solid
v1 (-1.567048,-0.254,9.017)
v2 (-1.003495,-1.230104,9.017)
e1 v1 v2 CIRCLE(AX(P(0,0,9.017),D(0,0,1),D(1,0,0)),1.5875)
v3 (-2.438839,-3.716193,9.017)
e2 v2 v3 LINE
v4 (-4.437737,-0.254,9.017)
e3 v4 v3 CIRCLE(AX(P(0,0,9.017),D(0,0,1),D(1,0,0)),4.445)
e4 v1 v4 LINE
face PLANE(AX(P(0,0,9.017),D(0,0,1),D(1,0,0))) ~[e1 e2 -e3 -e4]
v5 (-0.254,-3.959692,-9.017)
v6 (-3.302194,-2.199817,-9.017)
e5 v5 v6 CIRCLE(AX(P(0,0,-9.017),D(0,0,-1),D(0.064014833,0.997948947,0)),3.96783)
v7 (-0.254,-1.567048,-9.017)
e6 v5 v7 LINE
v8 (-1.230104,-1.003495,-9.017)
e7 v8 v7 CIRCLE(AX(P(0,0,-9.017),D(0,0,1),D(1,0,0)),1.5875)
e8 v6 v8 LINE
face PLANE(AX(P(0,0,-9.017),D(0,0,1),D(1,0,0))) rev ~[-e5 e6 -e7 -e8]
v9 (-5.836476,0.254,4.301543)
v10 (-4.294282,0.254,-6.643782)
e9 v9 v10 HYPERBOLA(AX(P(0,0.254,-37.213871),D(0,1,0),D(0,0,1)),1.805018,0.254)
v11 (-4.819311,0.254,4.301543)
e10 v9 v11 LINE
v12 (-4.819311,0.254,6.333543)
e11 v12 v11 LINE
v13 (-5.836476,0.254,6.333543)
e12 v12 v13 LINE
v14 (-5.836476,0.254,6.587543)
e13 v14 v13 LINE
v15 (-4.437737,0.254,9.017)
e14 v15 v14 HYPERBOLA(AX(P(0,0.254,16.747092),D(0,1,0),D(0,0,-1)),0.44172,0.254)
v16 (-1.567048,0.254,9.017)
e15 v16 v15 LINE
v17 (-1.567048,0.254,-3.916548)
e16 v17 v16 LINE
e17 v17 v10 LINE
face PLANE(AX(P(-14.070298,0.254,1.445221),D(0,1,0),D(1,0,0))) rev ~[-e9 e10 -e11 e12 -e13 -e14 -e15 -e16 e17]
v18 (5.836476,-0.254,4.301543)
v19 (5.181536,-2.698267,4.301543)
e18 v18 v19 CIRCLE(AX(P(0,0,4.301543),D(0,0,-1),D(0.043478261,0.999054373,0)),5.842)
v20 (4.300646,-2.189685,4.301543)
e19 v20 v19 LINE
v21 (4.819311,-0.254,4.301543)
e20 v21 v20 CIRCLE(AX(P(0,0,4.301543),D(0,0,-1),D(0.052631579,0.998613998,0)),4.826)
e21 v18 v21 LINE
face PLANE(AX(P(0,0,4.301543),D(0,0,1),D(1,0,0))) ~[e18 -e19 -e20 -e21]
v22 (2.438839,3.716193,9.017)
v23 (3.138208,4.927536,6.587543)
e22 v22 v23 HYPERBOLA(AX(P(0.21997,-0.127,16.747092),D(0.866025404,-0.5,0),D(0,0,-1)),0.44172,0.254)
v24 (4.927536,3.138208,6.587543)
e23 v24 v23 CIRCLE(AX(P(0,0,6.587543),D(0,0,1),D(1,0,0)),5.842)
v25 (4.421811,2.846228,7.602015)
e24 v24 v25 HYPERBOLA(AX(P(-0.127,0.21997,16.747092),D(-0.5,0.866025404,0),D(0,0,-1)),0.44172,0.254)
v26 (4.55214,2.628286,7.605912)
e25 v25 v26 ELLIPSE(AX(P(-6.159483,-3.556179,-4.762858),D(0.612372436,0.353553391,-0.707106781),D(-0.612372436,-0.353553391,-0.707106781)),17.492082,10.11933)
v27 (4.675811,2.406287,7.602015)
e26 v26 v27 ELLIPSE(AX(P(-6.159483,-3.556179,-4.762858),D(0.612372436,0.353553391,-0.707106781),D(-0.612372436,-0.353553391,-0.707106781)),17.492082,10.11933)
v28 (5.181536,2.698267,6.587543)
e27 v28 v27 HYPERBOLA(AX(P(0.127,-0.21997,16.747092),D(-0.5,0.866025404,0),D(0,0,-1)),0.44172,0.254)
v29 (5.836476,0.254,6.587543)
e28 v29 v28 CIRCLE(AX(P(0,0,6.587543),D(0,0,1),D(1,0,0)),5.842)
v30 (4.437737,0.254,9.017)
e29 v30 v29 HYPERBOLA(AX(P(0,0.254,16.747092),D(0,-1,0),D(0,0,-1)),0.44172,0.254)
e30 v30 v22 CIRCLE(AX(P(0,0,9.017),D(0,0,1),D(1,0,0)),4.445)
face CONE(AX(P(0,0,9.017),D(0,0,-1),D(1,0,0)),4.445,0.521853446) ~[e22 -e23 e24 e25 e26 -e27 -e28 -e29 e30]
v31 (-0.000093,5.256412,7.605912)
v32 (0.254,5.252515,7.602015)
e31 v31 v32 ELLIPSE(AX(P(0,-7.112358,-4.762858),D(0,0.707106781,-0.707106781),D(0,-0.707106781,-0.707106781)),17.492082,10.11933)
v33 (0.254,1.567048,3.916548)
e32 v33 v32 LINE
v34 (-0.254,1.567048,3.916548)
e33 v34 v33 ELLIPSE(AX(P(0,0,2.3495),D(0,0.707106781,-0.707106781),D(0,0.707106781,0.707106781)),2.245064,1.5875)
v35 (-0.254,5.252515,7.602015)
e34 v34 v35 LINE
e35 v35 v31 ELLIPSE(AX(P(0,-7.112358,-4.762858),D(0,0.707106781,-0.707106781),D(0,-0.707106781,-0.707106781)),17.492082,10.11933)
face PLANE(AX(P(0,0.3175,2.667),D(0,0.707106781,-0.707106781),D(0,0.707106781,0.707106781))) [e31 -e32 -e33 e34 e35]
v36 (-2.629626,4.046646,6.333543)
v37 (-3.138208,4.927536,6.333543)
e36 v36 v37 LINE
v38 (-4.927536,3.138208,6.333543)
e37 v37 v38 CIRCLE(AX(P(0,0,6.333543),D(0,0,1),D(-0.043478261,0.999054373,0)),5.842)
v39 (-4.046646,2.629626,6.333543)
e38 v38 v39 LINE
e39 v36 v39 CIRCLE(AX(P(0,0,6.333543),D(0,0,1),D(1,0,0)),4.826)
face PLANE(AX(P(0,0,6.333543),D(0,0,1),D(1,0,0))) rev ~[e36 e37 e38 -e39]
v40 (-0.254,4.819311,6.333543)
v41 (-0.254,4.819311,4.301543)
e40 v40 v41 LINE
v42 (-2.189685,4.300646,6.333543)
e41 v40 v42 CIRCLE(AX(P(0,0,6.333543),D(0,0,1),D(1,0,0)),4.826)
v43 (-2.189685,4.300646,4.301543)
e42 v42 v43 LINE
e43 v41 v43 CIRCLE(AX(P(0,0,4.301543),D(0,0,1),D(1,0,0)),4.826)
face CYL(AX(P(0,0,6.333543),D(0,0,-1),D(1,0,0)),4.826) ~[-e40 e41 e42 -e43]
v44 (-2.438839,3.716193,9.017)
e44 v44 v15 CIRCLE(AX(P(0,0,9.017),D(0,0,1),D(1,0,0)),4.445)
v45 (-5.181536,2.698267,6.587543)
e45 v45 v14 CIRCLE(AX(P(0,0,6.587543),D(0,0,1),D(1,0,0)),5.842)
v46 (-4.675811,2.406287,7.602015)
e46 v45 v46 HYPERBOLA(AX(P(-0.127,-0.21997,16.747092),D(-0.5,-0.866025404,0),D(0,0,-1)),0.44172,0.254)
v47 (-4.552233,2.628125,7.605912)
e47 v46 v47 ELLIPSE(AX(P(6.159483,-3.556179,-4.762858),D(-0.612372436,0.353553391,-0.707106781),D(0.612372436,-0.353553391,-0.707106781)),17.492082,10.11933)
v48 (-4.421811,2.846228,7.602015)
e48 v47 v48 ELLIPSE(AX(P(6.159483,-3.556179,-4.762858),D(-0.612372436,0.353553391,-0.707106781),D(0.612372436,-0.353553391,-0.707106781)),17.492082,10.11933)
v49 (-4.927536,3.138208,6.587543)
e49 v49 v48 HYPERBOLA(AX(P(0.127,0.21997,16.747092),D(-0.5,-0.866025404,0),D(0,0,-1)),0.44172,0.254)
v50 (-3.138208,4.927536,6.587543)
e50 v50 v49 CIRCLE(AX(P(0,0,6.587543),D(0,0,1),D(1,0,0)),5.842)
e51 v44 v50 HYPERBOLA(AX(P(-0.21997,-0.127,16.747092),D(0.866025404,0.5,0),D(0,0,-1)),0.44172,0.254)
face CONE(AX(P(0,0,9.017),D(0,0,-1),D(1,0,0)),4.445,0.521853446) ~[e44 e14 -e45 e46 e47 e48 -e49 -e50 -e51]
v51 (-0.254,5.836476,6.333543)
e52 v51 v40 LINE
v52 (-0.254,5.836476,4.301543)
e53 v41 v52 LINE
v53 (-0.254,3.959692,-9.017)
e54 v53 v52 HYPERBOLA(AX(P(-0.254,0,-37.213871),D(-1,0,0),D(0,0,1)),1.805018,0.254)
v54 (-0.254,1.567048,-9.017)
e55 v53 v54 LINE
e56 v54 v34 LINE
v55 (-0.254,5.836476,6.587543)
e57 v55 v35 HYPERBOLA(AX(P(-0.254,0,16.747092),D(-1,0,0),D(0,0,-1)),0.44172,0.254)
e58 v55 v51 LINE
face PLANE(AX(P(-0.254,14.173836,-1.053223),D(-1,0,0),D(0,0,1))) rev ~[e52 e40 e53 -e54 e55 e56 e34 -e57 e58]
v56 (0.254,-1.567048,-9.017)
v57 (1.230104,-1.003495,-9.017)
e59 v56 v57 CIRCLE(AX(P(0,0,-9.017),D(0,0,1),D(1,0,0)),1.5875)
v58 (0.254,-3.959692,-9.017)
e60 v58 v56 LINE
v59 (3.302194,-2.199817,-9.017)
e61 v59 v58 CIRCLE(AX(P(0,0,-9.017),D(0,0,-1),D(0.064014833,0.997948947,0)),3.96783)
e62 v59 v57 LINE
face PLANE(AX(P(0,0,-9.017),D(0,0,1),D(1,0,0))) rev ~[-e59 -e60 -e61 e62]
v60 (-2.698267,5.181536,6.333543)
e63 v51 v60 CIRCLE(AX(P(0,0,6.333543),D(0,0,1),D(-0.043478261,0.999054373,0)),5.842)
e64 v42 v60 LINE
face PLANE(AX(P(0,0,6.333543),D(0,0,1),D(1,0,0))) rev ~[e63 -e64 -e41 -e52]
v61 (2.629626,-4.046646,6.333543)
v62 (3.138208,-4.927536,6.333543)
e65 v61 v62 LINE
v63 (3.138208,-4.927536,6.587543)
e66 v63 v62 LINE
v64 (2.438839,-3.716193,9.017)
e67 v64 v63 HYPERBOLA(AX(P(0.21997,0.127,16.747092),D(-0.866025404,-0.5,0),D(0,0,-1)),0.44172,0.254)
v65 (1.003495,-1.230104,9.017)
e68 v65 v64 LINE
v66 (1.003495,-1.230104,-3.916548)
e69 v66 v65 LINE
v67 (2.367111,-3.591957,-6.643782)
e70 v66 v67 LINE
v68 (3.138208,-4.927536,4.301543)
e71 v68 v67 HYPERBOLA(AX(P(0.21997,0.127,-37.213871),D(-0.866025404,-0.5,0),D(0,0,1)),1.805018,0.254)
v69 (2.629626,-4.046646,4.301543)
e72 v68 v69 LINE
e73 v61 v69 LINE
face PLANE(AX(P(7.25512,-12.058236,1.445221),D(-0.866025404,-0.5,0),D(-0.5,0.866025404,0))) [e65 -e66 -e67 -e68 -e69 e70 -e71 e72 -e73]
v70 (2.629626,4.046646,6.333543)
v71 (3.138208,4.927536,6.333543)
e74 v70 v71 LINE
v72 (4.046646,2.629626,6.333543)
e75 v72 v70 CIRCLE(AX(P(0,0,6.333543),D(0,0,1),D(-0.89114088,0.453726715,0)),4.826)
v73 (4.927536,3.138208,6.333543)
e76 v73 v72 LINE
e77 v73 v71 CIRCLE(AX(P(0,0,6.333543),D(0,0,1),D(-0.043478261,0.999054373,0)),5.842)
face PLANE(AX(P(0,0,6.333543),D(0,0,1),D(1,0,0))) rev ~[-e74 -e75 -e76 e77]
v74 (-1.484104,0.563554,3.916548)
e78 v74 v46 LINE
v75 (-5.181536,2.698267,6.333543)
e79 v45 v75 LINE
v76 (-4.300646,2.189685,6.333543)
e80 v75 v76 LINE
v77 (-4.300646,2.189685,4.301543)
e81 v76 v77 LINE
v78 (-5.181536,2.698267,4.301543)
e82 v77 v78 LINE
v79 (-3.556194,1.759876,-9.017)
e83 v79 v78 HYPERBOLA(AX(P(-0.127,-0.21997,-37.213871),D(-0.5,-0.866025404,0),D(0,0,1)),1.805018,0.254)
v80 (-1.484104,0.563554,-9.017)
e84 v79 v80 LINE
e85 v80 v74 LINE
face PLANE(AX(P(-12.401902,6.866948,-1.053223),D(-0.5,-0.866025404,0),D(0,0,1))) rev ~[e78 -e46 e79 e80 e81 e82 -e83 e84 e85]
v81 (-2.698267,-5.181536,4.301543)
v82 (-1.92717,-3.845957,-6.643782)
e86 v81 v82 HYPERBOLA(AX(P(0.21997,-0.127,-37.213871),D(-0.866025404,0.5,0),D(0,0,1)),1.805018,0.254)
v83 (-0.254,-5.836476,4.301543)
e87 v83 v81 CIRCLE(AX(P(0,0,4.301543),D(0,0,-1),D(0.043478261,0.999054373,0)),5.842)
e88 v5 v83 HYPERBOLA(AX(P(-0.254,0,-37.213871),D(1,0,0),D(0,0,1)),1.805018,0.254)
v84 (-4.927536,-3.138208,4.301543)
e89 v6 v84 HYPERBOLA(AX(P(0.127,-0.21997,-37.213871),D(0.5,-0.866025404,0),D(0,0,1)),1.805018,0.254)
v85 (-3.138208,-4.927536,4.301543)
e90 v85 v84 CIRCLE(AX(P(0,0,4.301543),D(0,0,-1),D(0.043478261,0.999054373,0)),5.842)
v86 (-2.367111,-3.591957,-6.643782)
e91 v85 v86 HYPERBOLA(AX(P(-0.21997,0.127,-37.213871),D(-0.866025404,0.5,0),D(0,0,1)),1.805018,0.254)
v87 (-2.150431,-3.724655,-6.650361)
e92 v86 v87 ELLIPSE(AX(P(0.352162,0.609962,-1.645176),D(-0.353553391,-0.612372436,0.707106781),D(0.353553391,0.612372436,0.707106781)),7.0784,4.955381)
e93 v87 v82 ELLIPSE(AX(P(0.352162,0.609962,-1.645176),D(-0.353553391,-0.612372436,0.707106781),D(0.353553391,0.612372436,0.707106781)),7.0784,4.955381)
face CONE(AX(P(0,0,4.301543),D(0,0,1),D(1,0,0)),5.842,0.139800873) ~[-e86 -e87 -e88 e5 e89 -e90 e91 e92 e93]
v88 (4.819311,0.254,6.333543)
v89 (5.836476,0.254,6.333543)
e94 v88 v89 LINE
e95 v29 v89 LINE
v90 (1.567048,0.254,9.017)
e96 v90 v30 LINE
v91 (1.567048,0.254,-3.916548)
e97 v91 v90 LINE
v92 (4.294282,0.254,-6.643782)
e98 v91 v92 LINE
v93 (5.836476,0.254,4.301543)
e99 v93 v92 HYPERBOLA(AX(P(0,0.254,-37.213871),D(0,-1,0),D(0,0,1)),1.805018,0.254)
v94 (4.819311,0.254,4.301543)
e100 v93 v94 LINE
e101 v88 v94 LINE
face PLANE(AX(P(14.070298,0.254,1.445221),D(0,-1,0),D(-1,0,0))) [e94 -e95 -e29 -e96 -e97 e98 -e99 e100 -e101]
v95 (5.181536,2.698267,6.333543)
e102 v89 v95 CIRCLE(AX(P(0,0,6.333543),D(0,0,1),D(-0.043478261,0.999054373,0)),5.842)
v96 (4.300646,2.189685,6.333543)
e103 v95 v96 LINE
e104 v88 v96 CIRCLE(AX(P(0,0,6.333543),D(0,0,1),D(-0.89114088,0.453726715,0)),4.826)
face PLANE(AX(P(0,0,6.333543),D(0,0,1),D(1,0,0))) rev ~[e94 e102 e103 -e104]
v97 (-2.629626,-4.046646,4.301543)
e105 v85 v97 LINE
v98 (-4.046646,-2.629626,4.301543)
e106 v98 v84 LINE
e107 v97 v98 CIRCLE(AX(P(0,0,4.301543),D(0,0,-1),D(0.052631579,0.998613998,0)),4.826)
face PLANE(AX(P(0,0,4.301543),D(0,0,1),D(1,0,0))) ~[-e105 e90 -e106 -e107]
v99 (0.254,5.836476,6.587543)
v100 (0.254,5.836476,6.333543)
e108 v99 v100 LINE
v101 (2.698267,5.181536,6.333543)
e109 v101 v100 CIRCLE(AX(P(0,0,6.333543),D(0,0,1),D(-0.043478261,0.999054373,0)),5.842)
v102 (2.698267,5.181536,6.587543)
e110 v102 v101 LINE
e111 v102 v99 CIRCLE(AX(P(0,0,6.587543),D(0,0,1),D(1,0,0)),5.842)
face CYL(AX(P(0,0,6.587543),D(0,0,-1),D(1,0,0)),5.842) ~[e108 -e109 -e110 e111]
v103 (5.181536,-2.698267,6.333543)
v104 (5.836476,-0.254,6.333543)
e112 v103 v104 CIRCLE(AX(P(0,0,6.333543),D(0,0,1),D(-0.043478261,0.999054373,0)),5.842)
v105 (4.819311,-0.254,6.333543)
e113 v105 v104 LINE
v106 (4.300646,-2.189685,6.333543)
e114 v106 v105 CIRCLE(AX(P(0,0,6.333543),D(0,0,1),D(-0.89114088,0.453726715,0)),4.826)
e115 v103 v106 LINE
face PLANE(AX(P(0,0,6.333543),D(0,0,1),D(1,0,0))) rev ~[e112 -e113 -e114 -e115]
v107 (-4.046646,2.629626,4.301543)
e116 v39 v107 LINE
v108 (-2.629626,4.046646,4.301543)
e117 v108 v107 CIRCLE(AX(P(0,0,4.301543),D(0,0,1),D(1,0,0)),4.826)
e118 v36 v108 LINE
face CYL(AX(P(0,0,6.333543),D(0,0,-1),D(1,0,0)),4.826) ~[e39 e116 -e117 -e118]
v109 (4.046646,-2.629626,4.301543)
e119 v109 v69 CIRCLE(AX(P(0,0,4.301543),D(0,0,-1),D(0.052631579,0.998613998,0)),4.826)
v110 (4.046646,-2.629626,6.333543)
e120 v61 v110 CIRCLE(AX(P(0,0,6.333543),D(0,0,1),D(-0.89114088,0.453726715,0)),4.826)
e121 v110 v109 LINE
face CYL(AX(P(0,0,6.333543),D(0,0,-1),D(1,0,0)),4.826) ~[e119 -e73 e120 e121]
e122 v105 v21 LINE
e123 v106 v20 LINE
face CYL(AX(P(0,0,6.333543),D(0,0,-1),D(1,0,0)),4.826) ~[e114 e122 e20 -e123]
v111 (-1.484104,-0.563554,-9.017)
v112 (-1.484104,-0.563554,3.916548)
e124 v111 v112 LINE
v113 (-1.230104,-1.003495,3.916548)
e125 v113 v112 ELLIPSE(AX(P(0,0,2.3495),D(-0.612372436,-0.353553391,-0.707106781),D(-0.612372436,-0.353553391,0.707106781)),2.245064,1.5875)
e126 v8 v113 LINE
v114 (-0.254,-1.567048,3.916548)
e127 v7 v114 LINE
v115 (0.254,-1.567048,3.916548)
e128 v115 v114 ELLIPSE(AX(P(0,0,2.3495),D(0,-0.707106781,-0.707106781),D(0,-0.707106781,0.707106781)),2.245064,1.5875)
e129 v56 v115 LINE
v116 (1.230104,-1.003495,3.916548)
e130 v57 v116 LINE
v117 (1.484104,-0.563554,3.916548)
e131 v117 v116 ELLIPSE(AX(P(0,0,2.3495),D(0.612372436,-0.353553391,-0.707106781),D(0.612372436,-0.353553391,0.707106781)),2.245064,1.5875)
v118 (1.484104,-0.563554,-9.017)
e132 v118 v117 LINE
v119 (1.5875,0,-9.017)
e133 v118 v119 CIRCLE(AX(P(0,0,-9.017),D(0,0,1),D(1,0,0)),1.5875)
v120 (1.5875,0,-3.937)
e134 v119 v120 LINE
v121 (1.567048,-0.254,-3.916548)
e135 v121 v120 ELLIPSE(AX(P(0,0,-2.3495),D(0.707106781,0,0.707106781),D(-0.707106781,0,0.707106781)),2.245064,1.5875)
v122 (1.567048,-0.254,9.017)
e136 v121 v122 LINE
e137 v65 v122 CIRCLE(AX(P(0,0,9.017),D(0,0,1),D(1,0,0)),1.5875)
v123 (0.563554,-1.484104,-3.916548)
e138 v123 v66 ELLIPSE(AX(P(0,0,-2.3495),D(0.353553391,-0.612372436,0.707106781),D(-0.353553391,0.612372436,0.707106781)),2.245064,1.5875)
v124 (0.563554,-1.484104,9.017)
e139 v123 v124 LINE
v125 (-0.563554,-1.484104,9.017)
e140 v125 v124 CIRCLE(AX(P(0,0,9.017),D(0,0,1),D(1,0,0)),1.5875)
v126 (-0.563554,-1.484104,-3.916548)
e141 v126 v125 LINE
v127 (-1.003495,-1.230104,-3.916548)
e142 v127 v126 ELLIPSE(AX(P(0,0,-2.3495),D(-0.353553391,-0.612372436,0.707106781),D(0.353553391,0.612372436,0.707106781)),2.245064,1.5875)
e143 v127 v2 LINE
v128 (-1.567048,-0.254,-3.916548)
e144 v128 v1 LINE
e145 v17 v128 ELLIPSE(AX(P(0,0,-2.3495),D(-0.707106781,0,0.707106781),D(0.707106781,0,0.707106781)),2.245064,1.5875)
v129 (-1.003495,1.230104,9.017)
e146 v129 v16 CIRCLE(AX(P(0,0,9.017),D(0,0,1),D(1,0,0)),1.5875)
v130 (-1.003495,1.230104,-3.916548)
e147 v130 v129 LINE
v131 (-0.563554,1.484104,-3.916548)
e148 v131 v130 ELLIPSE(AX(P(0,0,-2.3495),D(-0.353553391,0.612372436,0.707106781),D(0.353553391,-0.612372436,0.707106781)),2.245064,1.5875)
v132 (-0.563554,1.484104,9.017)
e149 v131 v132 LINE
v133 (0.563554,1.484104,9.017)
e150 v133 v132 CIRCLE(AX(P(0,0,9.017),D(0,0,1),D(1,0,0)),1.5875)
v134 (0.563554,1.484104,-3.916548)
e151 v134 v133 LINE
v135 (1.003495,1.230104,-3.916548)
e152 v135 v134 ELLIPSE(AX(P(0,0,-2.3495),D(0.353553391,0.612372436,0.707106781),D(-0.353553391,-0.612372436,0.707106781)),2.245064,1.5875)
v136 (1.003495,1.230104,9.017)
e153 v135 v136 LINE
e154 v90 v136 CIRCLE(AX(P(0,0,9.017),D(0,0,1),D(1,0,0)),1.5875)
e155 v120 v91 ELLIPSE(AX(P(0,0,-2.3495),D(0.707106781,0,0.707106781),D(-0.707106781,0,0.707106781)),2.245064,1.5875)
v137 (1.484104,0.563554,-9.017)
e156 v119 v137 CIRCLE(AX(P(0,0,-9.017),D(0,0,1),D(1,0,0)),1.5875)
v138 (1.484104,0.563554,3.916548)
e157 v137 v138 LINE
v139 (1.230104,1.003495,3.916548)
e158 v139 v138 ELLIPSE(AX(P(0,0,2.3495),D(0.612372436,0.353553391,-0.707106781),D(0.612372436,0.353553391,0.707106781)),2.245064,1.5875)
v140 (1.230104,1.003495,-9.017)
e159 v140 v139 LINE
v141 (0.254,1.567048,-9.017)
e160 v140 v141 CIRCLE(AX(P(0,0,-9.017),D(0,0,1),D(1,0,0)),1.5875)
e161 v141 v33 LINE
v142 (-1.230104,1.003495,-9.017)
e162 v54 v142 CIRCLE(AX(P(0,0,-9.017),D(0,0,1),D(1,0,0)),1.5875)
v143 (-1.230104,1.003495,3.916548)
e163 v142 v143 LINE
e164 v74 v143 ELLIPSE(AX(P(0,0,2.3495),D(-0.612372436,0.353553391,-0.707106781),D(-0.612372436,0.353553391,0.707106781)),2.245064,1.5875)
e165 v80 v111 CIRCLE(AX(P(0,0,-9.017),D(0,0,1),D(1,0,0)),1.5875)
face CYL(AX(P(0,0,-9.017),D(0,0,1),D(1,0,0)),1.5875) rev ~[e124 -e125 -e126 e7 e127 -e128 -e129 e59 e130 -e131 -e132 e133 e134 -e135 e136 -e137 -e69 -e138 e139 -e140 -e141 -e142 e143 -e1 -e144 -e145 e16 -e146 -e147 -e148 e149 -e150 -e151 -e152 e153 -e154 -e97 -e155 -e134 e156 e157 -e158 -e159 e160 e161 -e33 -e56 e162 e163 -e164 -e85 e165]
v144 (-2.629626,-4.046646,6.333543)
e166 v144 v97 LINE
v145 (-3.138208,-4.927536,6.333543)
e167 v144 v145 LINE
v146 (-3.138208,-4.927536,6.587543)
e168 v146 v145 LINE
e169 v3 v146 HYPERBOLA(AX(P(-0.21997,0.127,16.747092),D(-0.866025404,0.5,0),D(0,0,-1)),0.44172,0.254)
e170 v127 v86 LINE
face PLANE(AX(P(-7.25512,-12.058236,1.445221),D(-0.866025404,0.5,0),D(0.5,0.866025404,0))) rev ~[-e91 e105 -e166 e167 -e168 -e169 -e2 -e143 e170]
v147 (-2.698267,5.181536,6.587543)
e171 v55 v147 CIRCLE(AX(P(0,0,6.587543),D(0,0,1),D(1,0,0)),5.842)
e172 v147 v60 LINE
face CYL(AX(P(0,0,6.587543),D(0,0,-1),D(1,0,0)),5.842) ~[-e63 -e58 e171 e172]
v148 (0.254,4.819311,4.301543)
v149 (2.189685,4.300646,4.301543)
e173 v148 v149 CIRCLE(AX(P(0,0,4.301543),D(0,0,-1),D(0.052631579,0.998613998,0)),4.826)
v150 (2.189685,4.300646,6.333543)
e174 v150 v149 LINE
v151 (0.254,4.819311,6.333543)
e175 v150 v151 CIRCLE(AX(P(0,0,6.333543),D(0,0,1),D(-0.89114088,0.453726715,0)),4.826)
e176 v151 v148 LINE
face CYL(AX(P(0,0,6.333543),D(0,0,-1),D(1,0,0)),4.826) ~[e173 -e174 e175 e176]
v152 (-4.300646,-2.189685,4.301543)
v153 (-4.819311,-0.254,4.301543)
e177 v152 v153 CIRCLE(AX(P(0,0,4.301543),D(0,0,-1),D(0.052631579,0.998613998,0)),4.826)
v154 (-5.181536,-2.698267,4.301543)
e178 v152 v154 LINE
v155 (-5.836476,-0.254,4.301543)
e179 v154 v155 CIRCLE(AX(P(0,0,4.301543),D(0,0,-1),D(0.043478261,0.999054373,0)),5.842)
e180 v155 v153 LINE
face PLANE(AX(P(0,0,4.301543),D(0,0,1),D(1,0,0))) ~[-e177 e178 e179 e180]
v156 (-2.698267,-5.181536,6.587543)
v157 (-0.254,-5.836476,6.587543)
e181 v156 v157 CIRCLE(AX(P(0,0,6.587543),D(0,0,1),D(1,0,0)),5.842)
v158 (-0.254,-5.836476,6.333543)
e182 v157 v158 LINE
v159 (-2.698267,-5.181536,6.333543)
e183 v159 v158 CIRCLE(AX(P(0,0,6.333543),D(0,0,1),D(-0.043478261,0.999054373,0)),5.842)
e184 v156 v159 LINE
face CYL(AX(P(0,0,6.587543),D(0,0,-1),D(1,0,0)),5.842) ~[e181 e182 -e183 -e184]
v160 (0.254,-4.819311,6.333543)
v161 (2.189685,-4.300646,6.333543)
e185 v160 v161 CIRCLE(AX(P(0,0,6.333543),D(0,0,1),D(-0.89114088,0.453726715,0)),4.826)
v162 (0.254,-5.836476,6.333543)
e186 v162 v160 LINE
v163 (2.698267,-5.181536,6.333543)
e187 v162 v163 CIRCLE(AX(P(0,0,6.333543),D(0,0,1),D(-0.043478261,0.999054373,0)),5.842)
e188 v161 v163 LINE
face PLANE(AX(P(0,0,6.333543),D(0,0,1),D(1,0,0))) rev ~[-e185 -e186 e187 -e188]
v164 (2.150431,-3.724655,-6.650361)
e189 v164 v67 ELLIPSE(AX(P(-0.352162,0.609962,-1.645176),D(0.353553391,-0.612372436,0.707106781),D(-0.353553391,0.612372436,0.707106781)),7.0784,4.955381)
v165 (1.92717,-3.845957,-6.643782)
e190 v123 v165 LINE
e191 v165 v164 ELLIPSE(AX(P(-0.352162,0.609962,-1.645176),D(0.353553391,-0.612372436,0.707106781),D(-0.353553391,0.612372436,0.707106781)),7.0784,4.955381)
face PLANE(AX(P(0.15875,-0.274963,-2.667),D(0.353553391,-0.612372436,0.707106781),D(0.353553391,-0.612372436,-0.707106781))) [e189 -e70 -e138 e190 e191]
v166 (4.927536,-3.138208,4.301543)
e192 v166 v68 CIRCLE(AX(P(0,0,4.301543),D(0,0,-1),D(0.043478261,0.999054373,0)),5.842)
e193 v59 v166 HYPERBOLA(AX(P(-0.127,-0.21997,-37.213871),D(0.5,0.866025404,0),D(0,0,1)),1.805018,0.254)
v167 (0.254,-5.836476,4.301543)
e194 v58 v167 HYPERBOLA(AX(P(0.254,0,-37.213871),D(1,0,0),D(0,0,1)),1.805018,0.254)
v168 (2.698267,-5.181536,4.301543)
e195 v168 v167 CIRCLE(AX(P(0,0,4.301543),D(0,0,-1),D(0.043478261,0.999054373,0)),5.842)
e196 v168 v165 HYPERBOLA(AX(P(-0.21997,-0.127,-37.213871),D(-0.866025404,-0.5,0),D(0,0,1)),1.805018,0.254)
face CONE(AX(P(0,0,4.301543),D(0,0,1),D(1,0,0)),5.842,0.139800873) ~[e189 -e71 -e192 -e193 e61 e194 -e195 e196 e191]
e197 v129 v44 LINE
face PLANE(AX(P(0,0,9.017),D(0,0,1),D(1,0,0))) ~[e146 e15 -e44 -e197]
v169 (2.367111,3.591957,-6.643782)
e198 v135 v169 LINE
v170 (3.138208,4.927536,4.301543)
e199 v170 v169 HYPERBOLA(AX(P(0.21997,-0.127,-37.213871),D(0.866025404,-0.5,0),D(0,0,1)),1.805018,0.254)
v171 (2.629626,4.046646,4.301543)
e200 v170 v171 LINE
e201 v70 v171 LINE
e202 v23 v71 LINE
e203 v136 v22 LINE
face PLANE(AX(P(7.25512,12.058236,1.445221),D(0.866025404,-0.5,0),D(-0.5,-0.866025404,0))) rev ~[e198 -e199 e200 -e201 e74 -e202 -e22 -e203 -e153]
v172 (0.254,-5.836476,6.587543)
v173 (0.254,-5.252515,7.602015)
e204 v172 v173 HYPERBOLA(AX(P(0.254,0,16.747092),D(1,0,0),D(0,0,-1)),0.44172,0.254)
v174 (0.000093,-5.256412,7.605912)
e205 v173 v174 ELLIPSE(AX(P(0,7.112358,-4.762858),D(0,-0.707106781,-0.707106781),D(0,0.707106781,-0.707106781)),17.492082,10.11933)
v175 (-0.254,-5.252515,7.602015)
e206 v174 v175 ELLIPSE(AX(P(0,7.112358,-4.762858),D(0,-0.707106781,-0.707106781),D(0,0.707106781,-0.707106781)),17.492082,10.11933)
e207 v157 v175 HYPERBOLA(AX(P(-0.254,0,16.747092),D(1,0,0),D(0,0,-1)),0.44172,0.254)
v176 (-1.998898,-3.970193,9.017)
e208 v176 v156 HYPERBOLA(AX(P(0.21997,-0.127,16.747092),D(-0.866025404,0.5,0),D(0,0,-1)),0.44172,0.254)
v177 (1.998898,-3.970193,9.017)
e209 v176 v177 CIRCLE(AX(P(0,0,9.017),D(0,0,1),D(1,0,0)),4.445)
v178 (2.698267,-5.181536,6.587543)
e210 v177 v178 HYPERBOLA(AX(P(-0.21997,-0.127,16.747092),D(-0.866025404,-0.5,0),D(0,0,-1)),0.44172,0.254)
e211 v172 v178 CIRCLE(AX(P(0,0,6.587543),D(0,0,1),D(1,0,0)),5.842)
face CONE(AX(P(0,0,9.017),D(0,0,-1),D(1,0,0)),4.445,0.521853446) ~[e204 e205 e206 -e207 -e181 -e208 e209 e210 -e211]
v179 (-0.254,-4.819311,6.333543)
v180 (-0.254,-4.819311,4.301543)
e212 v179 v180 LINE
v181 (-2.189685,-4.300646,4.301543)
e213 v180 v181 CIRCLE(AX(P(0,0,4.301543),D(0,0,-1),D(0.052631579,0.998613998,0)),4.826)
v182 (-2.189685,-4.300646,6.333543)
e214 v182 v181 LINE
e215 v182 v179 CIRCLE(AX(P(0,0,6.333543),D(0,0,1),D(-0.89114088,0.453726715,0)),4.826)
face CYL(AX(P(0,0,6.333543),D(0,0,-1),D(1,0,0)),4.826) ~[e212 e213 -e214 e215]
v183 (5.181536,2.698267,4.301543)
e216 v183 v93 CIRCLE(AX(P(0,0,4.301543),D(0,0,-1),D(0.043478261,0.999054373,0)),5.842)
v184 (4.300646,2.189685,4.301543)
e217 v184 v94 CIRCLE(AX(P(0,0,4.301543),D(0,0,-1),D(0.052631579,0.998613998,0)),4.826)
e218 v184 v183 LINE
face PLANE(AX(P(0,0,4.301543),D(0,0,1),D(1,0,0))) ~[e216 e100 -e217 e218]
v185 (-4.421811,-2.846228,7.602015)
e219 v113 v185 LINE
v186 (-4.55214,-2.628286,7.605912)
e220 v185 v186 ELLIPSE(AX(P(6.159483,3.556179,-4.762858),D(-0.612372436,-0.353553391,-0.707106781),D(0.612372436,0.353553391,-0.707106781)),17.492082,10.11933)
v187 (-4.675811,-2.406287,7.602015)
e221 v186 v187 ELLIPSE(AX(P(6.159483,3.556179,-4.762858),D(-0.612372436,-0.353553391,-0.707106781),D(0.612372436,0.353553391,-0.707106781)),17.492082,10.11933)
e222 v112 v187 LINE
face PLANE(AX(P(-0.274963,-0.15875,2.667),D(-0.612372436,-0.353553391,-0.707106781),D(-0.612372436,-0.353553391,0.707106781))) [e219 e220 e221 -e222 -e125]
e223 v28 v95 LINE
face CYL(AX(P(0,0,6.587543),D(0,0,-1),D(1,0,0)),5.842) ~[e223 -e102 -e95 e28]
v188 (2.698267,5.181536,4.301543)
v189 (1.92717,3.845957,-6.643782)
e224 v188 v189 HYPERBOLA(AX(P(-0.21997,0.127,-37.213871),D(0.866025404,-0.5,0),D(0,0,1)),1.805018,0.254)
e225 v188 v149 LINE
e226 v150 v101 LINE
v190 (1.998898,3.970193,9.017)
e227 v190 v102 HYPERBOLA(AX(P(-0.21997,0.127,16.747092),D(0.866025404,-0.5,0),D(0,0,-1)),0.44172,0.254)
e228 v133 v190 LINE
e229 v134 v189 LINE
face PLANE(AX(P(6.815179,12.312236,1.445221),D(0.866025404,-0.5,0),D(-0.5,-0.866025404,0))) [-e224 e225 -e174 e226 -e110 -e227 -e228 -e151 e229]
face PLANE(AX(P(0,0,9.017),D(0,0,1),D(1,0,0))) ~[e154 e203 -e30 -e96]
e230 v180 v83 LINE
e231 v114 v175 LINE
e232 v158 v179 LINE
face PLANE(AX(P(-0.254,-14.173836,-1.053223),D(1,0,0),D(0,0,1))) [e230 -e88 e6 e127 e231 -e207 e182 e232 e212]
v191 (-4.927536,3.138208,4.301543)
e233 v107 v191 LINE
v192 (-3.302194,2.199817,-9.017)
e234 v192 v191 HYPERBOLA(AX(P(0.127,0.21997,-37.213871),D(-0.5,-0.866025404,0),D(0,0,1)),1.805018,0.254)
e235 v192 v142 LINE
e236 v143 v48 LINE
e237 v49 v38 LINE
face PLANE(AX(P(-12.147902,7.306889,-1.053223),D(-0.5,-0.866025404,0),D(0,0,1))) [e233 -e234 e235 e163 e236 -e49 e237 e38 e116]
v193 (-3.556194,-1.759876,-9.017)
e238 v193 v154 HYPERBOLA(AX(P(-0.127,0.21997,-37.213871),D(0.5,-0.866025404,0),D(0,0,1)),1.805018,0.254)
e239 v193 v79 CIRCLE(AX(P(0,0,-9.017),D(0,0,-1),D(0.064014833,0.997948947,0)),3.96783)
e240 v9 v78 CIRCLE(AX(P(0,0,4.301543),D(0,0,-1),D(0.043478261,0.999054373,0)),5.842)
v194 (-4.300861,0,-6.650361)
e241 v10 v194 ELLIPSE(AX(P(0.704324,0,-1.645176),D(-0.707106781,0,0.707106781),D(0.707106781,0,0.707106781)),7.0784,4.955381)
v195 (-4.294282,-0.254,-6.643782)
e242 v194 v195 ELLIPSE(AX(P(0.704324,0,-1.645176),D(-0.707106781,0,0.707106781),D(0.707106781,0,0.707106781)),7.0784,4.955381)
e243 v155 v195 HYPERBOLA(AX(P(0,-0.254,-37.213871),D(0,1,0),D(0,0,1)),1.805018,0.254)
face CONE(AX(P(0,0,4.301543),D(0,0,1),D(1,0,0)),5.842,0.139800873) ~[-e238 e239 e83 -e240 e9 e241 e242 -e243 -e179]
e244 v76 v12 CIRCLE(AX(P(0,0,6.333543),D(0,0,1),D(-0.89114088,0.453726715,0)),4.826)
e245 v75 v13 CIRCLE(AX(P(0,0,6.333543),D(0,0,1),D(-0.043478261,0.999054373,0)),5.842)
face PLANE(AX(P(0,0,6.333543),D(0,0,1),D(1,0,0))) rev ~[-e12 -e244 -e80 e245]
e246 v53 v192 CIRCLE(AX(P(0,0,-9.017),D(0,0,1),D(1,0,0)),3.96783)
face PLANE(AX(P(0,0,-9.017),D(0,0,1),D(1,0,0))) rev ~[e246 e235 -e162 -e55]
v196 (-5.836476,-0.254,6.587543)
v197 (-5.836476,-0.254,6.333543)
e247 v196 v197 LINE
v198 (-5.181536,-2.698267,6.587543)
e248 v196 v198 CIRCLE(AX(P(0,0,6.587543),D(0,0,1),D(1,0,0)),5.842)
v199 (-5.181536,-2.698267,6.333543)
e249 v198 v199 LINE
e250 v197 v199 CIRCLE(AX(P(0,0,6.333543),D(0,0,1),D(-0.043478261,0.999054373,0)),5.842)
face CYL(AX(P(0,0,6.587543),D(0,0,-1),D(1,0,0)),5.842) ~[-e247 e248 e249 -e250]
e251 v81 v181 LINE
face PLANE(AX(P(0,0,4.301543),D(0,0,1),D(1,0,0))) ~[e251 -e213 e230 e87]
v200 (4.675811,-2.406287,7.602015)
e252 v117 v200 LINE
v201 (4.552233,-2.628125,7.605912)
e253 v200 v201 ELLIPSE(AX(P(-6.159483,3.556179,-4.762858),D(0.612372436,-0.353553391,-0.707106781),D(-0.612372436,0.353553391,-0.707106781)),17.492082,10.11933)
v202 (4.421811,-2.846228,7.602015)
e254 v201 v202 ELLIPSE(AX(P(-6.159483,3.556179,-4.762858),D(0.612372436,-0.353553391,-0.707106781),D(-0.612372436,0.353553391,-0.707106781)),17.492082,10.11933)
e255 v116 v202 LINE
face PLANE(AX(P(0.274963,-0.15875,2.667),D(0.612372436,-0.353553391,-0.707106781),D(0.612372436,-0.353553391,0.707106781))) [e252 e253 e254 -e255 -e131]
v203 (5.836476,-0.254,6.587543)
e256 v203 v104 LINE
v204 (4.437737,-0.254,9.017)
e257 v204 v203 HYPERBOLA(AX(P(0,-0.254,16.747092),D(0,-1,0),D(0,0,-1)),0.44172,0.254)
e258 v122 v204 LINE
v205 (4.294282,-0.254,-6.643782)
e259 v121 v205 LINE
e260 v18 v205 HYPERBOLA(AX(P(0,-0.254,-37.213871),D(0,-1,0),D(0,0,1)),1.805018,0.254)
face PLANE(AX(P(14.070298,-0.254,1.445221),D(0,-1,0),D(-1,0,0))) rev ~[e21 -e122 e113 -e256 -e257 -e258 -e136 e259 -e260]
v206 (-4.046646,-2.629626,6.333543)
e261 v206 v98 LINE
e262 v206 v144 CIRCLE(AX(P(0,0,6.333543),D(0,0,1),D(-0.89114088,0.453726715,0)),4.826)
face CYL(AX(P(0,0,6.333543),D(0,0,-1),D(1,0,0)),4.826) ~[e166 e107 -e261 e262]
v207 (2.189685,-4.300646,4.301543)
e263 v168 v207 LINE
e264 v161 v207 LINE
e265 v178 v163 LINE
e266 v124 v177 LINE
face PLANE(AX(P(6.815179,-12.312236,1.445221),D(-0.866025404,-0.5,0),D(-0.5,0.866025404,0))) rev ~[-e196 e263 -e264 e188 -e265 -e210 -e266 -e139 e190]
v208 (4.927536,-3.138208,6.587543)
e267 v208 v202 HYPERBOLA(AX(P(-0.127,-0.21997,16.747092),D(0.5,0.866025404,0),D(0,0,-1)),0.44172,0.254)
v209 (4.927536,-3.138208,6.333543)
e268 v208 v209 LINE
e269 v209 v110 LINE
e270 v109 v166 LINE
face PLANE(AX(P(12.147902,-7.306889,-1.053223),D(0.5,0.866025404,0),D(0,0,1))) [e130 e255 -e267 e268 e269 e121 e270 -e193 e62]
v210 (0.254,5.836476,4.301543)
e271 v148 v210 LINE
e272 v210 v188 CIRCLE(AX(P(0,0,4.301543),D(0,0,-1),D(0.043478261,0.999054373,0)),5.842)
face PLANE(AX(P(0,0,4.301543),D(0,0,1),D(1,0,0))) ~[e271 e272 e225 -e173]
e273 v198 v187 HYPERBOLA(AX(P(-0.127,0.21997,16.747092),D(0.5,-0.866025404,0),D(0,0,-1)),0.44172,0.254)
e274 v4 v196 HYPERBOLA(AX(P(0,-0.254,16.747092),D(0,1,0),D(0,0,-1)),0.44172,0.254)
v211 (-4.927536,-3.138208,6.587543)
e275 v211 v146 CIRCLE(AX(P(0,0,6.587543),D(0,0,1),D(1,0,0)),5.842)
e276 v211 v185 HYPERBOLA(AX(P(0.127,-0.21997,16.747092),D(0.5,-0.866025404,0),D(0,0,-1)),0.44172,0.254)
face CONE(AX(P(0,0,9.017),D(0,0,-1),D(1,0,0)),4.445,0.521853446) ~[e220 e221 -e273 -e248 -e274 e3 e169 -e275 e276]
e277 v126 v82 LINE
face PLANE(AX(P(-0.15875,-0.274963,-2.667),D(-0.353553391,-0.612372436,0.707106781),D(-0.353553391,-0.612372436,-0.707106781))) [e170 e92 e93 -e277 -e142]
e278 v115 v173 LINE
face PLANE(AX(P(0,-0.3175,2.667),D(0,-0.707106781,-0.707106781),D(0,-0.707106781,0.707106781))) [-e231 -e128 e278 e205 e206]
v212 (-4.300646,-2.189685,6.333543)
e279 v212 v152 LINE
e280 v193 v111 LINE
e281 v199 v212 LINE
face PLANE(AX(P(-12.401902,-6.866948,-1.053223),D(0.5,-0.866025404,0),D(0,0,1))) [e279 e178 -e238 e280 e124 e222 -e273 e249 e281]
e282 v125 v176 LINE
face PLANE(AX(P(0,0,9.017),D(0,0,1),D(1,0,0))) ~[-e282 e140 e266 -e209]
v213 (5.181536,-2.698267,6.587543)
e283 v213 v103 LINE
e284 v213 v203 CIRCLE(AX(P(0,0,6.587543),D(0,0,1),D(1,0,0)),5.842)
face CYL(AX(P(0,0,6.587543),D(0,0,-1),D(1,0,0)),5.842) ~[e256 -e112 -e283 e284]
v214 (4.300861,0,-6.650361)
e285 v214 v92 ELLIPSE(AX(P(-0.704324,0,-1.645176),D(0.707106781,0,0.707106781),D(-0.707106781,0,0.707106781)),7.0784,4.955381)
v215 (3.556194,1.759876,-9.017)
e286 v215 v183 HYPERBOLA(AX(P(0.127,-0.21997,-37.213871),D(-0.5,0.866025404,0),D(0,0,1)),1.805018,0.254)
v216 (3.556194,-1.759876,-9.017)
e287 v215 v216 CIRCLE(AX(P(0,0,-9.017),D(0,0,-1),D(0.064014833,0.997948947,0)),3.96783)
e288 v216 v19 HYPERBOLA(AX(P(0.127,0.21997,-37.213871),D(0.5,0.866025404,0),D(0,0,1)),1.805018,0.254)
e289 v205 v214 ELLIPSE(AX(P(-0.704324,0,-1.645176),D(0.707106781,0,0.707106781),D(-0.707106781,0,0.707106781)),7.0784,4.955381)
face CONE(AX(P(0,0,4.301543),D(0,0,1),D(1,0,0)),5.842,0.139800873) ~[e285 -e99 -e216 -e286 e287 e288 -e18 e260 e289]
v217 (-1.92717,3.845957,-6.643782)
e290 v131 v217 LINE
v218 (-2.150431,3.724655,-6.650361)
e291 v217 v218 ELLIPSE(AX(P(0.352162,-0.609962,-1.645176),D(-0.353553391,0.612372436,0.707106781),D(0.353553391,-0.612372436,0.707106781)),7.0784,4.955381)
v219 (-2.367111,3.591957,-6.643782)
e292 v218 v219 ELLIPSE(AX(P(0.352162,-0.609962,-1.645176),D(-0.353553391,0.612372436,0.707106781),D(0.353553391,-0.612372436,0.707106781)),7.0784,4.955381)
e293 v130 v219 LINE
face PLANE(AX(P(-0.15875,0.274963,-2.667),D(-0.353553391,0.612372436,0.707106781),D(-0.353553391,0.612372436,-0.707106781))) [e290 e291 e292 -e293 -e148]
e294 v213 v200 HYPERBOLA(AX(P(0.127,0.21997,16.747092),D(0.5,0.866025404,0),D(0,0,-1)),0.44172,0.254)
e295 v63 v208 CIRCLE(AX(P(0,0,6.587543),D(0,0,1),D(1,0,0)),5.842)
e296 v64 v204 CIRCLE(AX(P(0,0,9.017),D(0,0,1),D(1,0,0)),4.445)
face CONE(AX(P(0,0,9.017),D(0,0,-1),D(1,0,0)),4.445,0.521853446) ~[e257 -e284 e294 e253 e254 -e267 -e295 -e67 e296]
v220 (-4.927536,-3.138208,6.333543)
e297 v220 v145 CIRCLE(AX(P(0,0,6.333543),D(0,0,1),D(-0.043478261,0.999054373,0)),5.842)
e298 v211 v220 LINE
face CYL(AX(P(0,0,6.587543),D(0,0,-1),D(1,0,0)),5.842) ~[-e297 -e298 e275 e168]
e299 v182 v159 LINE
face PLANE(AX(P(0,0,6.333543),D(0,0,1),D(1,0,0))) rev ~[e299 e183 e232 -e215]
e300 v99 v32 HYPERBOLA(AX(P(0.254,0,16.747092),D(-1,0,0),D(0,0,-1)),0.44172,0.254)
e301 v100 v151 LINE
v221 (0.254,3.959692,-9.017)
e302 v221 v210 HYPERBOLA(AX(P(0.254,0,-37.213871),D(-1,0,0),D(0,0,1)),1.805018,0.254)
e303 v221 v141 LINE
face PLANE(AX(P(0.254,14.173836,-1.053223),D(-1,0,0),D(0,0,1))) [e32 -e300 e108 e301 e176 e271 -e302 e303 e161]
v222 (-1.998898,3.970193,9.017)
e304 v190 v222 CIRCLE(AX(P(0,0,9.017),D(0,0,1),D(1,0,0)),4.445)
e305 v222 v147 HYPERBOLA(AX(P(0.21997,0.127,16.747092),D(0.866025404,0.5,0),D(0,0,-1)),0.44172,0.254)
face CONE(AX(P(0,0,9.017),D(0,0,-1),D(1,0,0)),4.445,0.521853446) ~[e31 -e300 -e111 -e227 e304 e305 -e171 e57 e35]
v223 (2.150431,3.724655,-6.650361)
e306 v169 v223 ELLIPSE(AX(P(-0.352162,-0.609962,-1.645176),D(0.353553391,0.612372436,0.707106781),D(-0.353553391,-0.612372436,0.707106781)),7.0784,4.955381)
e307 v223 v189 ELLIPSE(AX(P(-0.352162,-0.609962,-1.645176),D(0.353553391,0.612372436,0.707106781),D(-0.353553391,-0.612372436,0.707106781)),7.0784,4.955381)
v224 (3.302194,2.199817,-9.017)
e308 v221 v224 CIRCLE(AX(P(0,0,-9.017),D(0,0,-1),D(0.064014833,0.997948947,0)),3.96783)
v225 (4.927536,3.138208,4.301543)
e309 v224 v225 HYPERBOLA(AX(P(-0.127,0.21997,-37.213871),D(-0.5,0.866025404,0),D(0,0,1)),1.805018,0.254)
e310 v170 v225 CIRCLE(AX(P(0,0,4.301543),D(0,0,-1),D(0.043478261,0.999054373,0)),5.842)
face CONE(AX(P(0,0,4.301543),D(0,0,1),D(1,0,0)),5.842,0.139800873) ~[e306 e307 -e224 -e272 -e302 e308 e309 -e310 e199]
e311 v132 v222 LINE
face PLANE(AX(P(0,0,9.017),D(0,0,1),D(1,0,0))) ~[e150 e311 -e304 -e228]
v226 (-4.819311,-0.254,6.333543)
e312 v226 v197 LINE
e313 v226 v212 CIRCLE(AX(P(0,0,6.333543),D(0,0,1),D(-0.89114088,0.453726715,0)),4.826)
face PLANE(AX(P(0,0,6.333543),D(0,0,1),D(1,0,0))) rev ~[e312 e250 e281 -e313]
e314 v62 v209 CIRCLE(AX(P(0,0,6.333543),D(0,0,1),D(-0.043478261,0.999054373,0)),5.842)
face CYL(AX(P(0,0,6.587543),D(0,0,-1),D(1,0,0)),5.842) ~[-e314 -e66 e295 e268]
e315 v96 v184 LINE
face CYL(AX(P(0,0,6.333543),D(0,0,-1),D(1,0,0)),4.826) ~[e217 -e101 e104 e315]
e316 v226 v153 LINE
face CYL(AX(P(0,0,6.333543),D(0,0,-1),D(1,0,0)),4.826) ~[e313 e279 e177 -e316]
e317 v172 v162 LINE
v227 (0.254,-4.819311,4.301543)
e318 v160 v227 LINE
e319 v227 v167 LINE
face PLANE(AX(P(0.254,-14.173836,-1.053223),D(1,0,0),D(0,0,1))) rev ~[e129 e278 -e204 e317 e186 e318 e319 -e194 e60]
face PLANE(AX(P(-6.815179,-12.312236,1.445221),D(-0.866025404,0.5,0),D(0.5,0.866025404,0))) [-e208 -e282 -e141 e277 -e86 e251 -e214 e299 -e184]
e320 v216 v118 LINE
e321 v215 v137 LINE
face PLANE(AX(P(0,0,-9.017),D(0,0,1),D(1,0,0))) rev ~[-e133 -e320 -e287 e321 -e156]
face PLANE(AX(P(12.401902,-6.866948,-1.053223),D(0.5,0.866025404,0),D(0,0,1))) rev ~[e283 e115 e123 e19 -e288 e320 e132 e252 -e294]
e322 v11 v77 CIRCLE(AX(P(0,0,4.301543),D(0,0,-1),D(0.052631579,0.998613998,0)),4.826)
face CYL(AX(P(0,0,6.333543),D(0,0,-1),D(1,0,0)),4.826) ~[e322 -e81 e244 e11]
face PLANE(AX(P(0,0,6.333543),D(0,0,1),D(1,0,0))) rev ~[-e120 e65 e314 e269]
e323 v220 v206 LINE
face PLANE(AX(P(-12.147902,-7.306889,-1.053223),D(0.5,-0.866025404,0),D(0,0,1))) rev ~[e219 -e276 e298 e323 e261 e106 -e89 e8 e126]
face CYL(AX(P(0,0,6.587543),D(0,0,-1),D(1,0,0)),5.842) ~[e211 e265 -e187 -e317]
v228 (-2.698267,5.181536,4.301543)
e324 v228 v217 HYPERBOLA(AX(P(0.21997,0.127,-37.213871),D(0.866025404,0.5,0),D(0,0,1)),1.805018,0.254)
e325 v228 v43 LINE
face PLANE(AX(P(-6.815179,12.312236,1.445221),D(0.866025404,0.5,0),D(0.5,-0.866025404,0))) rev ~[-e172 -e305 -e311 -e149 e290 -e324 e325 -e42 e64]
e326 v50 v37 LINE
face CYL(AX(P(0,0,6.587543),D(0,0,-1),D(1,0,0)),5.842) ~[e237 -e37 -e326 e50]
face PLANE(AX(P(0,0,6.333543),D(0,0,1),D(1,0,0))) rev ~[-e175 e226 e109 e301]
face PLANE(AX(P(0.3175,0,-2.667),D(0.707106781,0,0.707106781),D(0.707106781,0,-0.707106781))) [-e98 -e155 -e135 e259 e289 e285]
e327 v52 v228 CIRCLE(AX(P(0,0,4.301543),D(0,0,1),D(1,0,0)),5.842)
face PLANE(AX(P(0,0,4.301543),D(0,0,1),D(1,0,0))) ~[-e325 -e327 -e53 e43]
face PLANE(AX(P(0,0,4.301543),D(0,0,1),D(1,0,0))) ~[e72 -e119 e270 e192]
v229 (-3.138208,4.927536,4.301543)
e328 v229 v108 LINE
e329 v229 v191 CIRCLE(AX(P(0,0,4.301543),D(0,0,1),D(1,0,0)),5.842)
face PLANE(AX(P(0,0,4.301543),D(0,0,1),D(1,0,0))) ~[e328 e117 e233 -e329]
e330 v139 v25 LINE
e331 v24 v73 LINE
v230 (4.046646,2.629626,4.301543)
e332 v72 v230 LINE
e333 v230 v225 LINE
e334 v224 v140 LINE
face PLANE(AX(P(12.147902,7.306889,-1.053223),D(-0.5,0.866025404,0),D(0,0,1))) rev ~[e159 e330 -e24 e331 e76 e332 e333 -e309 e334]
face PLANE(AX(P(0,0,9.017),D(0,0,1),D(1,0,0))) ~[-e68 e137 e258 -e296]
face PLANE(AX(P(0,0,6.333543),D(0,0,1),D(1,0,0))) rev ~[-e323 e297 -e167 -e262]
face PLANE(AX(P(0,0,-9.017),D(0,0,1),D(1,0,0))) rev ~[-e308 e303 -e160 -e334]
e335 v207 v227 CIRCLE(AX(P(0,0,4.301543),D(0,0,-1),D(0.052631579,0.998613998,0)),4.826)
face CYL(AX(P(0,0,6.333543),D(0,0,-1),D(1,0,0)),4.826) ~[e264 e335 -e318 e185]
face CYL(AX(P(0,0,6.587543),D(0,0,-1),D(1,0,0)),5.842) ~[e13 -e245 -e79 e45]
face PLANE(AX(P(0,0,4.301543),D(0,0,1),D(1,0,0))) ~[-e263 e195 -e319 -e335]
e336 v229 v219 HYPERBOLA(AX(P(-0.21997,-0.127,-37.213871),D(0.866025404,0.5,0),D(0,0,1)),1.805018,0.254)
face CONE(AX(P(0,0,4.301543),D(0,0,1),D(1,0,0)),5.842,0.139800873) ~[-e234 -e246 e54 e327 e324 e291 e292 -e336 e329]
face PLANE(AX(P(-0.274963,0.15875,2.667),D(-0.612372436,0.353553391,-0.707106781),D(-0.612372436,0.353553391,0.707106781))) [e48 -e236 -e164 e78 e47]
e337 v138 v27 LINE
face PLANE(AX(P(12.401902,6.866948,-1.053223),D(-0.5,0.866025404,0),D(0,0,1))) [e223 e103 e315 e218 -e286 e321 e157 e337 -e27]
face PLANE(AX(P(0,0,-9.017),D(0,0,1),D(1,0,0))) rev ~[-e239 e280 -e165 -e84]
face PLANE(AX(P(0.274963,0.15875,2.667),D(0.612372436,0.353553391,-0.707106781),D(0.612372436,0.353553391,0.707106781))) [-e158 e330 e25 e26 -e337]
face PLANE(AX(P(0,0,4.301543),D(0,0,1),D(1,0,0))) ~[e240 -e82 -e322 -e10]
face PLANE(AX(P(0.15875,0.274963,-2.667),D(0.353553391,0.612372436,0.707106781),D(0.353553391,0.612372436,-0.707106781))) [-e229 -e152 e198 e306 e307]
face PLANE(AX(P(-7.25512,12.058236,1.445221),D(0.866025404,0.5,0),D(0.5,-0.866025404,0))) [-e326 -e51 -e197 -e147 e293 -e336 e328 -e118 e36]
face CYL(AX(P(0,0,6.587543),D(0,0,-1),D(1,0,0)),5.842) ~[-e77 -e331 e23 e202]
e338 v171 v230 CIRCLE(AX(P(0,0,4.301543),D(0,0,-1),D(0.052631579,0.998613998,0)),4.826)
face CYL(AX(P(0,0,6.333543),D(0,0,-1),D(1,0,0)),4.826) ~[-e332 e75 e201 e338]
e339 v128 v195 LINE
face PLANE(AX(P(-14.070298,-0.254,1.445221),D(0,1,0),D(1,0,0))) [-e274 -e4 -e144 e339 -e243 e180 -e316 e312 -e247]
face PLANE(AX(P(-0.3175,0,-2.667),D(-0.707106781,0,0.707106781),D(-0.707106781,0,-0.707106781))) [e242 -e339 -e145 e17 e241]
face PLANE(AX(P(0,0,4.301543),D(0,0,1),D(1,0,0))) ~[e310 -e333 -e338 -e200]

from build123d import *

# Parameters (mm, degrees)
CUT_EXTRUDE3_DEPTH = 0.254
CIRPATTERN1_COUNT  = 6
CUT_EXTRUDE4_DEPTH = 0.254
CIRPATTERN2_COUNT  = 6


with BuildPart() as part:
    # Sketch2 → Revolve1 (revolve)
    with BuildSketch(Plane(origin=(0, 0, 0), x_dir=(1, 0, 0), z_dir=(0, 1, 0))):
        Polygon((4.445, -9.017), (5.842, -6.58754254), (5.842, -6.33354254), (4.826, -6.33354254), (4.826, -4.30154254), (5.842, -4.30154254), (3.967830419, 9.017), (1.5875, 9.017), (1.5875, -9.017), align=None)
    revolve(axis=Axis((0, 0, -9.017), (0, 0, 1)))

    # Sketch3 → Cut-Extrude3 (cut, symmetric)
    with BuildSketch(Plane(origin=(0, 0, 0), x_dir=(0, 0, -1), z_dir=(1, 0, 0))):
        Polygon((-7.605911738, 5.256411738), (-7.605911738, 26.9875), (9.017, 26.9875), (9.017, 0.3175), (-2.667, 0.3175), align=None)
    cut_extrude3 = extrude(amount=CUT_EXTRUDE3_DEPTH, both=True, mode=Mode.SUBTRACT)

    # CirPattern1: Cut-Extrude3 ×6 about axis
    cirpattern1_axis = Axis((0, 0, 0), (0, 0, 1))
    for i in range(1, CIRPATTERN1_COUNT):
        add(cut_extrude3.rotate(cirpattern1_axis, i * 360 / CIRPATTERN1_COUNT), mode=Mode.SUBTRACT)

    # Sketch4 → Cut-Extrude4 (cut, symmetric)
    with BuildSketch(Plane(origin=(0, 0, 0), x_dir=(1, 0, 0), z_dir=(0, 1, 0))):
        Polygon((4.300861057, 6.650361057), (26.9875, 6.650361057), (26.9875, -9.017), (1.5875, -9.017), (0.3175, -9.017), (0.3175, 2.667), align=None)
    cut_extrude4 = extrude(amount=CUT_EXTRUDE4_DEPTH, both=True, mode=Mode.SUBTRACT)

    # CirPattern2: Cut-Extrude4 ×6 about axis
    cirpattern2_axis = Axis((0, 0, 0), (0, 0, 1))
    for i in range(1, CIRPATTERN2_COUNT):
        add(cut_extrude4.rotate(cirpattern2_axis, i * 360 / CIRPATTERN2_COUNT), mode=Mode.SUBTRACT)


solid = part.part
